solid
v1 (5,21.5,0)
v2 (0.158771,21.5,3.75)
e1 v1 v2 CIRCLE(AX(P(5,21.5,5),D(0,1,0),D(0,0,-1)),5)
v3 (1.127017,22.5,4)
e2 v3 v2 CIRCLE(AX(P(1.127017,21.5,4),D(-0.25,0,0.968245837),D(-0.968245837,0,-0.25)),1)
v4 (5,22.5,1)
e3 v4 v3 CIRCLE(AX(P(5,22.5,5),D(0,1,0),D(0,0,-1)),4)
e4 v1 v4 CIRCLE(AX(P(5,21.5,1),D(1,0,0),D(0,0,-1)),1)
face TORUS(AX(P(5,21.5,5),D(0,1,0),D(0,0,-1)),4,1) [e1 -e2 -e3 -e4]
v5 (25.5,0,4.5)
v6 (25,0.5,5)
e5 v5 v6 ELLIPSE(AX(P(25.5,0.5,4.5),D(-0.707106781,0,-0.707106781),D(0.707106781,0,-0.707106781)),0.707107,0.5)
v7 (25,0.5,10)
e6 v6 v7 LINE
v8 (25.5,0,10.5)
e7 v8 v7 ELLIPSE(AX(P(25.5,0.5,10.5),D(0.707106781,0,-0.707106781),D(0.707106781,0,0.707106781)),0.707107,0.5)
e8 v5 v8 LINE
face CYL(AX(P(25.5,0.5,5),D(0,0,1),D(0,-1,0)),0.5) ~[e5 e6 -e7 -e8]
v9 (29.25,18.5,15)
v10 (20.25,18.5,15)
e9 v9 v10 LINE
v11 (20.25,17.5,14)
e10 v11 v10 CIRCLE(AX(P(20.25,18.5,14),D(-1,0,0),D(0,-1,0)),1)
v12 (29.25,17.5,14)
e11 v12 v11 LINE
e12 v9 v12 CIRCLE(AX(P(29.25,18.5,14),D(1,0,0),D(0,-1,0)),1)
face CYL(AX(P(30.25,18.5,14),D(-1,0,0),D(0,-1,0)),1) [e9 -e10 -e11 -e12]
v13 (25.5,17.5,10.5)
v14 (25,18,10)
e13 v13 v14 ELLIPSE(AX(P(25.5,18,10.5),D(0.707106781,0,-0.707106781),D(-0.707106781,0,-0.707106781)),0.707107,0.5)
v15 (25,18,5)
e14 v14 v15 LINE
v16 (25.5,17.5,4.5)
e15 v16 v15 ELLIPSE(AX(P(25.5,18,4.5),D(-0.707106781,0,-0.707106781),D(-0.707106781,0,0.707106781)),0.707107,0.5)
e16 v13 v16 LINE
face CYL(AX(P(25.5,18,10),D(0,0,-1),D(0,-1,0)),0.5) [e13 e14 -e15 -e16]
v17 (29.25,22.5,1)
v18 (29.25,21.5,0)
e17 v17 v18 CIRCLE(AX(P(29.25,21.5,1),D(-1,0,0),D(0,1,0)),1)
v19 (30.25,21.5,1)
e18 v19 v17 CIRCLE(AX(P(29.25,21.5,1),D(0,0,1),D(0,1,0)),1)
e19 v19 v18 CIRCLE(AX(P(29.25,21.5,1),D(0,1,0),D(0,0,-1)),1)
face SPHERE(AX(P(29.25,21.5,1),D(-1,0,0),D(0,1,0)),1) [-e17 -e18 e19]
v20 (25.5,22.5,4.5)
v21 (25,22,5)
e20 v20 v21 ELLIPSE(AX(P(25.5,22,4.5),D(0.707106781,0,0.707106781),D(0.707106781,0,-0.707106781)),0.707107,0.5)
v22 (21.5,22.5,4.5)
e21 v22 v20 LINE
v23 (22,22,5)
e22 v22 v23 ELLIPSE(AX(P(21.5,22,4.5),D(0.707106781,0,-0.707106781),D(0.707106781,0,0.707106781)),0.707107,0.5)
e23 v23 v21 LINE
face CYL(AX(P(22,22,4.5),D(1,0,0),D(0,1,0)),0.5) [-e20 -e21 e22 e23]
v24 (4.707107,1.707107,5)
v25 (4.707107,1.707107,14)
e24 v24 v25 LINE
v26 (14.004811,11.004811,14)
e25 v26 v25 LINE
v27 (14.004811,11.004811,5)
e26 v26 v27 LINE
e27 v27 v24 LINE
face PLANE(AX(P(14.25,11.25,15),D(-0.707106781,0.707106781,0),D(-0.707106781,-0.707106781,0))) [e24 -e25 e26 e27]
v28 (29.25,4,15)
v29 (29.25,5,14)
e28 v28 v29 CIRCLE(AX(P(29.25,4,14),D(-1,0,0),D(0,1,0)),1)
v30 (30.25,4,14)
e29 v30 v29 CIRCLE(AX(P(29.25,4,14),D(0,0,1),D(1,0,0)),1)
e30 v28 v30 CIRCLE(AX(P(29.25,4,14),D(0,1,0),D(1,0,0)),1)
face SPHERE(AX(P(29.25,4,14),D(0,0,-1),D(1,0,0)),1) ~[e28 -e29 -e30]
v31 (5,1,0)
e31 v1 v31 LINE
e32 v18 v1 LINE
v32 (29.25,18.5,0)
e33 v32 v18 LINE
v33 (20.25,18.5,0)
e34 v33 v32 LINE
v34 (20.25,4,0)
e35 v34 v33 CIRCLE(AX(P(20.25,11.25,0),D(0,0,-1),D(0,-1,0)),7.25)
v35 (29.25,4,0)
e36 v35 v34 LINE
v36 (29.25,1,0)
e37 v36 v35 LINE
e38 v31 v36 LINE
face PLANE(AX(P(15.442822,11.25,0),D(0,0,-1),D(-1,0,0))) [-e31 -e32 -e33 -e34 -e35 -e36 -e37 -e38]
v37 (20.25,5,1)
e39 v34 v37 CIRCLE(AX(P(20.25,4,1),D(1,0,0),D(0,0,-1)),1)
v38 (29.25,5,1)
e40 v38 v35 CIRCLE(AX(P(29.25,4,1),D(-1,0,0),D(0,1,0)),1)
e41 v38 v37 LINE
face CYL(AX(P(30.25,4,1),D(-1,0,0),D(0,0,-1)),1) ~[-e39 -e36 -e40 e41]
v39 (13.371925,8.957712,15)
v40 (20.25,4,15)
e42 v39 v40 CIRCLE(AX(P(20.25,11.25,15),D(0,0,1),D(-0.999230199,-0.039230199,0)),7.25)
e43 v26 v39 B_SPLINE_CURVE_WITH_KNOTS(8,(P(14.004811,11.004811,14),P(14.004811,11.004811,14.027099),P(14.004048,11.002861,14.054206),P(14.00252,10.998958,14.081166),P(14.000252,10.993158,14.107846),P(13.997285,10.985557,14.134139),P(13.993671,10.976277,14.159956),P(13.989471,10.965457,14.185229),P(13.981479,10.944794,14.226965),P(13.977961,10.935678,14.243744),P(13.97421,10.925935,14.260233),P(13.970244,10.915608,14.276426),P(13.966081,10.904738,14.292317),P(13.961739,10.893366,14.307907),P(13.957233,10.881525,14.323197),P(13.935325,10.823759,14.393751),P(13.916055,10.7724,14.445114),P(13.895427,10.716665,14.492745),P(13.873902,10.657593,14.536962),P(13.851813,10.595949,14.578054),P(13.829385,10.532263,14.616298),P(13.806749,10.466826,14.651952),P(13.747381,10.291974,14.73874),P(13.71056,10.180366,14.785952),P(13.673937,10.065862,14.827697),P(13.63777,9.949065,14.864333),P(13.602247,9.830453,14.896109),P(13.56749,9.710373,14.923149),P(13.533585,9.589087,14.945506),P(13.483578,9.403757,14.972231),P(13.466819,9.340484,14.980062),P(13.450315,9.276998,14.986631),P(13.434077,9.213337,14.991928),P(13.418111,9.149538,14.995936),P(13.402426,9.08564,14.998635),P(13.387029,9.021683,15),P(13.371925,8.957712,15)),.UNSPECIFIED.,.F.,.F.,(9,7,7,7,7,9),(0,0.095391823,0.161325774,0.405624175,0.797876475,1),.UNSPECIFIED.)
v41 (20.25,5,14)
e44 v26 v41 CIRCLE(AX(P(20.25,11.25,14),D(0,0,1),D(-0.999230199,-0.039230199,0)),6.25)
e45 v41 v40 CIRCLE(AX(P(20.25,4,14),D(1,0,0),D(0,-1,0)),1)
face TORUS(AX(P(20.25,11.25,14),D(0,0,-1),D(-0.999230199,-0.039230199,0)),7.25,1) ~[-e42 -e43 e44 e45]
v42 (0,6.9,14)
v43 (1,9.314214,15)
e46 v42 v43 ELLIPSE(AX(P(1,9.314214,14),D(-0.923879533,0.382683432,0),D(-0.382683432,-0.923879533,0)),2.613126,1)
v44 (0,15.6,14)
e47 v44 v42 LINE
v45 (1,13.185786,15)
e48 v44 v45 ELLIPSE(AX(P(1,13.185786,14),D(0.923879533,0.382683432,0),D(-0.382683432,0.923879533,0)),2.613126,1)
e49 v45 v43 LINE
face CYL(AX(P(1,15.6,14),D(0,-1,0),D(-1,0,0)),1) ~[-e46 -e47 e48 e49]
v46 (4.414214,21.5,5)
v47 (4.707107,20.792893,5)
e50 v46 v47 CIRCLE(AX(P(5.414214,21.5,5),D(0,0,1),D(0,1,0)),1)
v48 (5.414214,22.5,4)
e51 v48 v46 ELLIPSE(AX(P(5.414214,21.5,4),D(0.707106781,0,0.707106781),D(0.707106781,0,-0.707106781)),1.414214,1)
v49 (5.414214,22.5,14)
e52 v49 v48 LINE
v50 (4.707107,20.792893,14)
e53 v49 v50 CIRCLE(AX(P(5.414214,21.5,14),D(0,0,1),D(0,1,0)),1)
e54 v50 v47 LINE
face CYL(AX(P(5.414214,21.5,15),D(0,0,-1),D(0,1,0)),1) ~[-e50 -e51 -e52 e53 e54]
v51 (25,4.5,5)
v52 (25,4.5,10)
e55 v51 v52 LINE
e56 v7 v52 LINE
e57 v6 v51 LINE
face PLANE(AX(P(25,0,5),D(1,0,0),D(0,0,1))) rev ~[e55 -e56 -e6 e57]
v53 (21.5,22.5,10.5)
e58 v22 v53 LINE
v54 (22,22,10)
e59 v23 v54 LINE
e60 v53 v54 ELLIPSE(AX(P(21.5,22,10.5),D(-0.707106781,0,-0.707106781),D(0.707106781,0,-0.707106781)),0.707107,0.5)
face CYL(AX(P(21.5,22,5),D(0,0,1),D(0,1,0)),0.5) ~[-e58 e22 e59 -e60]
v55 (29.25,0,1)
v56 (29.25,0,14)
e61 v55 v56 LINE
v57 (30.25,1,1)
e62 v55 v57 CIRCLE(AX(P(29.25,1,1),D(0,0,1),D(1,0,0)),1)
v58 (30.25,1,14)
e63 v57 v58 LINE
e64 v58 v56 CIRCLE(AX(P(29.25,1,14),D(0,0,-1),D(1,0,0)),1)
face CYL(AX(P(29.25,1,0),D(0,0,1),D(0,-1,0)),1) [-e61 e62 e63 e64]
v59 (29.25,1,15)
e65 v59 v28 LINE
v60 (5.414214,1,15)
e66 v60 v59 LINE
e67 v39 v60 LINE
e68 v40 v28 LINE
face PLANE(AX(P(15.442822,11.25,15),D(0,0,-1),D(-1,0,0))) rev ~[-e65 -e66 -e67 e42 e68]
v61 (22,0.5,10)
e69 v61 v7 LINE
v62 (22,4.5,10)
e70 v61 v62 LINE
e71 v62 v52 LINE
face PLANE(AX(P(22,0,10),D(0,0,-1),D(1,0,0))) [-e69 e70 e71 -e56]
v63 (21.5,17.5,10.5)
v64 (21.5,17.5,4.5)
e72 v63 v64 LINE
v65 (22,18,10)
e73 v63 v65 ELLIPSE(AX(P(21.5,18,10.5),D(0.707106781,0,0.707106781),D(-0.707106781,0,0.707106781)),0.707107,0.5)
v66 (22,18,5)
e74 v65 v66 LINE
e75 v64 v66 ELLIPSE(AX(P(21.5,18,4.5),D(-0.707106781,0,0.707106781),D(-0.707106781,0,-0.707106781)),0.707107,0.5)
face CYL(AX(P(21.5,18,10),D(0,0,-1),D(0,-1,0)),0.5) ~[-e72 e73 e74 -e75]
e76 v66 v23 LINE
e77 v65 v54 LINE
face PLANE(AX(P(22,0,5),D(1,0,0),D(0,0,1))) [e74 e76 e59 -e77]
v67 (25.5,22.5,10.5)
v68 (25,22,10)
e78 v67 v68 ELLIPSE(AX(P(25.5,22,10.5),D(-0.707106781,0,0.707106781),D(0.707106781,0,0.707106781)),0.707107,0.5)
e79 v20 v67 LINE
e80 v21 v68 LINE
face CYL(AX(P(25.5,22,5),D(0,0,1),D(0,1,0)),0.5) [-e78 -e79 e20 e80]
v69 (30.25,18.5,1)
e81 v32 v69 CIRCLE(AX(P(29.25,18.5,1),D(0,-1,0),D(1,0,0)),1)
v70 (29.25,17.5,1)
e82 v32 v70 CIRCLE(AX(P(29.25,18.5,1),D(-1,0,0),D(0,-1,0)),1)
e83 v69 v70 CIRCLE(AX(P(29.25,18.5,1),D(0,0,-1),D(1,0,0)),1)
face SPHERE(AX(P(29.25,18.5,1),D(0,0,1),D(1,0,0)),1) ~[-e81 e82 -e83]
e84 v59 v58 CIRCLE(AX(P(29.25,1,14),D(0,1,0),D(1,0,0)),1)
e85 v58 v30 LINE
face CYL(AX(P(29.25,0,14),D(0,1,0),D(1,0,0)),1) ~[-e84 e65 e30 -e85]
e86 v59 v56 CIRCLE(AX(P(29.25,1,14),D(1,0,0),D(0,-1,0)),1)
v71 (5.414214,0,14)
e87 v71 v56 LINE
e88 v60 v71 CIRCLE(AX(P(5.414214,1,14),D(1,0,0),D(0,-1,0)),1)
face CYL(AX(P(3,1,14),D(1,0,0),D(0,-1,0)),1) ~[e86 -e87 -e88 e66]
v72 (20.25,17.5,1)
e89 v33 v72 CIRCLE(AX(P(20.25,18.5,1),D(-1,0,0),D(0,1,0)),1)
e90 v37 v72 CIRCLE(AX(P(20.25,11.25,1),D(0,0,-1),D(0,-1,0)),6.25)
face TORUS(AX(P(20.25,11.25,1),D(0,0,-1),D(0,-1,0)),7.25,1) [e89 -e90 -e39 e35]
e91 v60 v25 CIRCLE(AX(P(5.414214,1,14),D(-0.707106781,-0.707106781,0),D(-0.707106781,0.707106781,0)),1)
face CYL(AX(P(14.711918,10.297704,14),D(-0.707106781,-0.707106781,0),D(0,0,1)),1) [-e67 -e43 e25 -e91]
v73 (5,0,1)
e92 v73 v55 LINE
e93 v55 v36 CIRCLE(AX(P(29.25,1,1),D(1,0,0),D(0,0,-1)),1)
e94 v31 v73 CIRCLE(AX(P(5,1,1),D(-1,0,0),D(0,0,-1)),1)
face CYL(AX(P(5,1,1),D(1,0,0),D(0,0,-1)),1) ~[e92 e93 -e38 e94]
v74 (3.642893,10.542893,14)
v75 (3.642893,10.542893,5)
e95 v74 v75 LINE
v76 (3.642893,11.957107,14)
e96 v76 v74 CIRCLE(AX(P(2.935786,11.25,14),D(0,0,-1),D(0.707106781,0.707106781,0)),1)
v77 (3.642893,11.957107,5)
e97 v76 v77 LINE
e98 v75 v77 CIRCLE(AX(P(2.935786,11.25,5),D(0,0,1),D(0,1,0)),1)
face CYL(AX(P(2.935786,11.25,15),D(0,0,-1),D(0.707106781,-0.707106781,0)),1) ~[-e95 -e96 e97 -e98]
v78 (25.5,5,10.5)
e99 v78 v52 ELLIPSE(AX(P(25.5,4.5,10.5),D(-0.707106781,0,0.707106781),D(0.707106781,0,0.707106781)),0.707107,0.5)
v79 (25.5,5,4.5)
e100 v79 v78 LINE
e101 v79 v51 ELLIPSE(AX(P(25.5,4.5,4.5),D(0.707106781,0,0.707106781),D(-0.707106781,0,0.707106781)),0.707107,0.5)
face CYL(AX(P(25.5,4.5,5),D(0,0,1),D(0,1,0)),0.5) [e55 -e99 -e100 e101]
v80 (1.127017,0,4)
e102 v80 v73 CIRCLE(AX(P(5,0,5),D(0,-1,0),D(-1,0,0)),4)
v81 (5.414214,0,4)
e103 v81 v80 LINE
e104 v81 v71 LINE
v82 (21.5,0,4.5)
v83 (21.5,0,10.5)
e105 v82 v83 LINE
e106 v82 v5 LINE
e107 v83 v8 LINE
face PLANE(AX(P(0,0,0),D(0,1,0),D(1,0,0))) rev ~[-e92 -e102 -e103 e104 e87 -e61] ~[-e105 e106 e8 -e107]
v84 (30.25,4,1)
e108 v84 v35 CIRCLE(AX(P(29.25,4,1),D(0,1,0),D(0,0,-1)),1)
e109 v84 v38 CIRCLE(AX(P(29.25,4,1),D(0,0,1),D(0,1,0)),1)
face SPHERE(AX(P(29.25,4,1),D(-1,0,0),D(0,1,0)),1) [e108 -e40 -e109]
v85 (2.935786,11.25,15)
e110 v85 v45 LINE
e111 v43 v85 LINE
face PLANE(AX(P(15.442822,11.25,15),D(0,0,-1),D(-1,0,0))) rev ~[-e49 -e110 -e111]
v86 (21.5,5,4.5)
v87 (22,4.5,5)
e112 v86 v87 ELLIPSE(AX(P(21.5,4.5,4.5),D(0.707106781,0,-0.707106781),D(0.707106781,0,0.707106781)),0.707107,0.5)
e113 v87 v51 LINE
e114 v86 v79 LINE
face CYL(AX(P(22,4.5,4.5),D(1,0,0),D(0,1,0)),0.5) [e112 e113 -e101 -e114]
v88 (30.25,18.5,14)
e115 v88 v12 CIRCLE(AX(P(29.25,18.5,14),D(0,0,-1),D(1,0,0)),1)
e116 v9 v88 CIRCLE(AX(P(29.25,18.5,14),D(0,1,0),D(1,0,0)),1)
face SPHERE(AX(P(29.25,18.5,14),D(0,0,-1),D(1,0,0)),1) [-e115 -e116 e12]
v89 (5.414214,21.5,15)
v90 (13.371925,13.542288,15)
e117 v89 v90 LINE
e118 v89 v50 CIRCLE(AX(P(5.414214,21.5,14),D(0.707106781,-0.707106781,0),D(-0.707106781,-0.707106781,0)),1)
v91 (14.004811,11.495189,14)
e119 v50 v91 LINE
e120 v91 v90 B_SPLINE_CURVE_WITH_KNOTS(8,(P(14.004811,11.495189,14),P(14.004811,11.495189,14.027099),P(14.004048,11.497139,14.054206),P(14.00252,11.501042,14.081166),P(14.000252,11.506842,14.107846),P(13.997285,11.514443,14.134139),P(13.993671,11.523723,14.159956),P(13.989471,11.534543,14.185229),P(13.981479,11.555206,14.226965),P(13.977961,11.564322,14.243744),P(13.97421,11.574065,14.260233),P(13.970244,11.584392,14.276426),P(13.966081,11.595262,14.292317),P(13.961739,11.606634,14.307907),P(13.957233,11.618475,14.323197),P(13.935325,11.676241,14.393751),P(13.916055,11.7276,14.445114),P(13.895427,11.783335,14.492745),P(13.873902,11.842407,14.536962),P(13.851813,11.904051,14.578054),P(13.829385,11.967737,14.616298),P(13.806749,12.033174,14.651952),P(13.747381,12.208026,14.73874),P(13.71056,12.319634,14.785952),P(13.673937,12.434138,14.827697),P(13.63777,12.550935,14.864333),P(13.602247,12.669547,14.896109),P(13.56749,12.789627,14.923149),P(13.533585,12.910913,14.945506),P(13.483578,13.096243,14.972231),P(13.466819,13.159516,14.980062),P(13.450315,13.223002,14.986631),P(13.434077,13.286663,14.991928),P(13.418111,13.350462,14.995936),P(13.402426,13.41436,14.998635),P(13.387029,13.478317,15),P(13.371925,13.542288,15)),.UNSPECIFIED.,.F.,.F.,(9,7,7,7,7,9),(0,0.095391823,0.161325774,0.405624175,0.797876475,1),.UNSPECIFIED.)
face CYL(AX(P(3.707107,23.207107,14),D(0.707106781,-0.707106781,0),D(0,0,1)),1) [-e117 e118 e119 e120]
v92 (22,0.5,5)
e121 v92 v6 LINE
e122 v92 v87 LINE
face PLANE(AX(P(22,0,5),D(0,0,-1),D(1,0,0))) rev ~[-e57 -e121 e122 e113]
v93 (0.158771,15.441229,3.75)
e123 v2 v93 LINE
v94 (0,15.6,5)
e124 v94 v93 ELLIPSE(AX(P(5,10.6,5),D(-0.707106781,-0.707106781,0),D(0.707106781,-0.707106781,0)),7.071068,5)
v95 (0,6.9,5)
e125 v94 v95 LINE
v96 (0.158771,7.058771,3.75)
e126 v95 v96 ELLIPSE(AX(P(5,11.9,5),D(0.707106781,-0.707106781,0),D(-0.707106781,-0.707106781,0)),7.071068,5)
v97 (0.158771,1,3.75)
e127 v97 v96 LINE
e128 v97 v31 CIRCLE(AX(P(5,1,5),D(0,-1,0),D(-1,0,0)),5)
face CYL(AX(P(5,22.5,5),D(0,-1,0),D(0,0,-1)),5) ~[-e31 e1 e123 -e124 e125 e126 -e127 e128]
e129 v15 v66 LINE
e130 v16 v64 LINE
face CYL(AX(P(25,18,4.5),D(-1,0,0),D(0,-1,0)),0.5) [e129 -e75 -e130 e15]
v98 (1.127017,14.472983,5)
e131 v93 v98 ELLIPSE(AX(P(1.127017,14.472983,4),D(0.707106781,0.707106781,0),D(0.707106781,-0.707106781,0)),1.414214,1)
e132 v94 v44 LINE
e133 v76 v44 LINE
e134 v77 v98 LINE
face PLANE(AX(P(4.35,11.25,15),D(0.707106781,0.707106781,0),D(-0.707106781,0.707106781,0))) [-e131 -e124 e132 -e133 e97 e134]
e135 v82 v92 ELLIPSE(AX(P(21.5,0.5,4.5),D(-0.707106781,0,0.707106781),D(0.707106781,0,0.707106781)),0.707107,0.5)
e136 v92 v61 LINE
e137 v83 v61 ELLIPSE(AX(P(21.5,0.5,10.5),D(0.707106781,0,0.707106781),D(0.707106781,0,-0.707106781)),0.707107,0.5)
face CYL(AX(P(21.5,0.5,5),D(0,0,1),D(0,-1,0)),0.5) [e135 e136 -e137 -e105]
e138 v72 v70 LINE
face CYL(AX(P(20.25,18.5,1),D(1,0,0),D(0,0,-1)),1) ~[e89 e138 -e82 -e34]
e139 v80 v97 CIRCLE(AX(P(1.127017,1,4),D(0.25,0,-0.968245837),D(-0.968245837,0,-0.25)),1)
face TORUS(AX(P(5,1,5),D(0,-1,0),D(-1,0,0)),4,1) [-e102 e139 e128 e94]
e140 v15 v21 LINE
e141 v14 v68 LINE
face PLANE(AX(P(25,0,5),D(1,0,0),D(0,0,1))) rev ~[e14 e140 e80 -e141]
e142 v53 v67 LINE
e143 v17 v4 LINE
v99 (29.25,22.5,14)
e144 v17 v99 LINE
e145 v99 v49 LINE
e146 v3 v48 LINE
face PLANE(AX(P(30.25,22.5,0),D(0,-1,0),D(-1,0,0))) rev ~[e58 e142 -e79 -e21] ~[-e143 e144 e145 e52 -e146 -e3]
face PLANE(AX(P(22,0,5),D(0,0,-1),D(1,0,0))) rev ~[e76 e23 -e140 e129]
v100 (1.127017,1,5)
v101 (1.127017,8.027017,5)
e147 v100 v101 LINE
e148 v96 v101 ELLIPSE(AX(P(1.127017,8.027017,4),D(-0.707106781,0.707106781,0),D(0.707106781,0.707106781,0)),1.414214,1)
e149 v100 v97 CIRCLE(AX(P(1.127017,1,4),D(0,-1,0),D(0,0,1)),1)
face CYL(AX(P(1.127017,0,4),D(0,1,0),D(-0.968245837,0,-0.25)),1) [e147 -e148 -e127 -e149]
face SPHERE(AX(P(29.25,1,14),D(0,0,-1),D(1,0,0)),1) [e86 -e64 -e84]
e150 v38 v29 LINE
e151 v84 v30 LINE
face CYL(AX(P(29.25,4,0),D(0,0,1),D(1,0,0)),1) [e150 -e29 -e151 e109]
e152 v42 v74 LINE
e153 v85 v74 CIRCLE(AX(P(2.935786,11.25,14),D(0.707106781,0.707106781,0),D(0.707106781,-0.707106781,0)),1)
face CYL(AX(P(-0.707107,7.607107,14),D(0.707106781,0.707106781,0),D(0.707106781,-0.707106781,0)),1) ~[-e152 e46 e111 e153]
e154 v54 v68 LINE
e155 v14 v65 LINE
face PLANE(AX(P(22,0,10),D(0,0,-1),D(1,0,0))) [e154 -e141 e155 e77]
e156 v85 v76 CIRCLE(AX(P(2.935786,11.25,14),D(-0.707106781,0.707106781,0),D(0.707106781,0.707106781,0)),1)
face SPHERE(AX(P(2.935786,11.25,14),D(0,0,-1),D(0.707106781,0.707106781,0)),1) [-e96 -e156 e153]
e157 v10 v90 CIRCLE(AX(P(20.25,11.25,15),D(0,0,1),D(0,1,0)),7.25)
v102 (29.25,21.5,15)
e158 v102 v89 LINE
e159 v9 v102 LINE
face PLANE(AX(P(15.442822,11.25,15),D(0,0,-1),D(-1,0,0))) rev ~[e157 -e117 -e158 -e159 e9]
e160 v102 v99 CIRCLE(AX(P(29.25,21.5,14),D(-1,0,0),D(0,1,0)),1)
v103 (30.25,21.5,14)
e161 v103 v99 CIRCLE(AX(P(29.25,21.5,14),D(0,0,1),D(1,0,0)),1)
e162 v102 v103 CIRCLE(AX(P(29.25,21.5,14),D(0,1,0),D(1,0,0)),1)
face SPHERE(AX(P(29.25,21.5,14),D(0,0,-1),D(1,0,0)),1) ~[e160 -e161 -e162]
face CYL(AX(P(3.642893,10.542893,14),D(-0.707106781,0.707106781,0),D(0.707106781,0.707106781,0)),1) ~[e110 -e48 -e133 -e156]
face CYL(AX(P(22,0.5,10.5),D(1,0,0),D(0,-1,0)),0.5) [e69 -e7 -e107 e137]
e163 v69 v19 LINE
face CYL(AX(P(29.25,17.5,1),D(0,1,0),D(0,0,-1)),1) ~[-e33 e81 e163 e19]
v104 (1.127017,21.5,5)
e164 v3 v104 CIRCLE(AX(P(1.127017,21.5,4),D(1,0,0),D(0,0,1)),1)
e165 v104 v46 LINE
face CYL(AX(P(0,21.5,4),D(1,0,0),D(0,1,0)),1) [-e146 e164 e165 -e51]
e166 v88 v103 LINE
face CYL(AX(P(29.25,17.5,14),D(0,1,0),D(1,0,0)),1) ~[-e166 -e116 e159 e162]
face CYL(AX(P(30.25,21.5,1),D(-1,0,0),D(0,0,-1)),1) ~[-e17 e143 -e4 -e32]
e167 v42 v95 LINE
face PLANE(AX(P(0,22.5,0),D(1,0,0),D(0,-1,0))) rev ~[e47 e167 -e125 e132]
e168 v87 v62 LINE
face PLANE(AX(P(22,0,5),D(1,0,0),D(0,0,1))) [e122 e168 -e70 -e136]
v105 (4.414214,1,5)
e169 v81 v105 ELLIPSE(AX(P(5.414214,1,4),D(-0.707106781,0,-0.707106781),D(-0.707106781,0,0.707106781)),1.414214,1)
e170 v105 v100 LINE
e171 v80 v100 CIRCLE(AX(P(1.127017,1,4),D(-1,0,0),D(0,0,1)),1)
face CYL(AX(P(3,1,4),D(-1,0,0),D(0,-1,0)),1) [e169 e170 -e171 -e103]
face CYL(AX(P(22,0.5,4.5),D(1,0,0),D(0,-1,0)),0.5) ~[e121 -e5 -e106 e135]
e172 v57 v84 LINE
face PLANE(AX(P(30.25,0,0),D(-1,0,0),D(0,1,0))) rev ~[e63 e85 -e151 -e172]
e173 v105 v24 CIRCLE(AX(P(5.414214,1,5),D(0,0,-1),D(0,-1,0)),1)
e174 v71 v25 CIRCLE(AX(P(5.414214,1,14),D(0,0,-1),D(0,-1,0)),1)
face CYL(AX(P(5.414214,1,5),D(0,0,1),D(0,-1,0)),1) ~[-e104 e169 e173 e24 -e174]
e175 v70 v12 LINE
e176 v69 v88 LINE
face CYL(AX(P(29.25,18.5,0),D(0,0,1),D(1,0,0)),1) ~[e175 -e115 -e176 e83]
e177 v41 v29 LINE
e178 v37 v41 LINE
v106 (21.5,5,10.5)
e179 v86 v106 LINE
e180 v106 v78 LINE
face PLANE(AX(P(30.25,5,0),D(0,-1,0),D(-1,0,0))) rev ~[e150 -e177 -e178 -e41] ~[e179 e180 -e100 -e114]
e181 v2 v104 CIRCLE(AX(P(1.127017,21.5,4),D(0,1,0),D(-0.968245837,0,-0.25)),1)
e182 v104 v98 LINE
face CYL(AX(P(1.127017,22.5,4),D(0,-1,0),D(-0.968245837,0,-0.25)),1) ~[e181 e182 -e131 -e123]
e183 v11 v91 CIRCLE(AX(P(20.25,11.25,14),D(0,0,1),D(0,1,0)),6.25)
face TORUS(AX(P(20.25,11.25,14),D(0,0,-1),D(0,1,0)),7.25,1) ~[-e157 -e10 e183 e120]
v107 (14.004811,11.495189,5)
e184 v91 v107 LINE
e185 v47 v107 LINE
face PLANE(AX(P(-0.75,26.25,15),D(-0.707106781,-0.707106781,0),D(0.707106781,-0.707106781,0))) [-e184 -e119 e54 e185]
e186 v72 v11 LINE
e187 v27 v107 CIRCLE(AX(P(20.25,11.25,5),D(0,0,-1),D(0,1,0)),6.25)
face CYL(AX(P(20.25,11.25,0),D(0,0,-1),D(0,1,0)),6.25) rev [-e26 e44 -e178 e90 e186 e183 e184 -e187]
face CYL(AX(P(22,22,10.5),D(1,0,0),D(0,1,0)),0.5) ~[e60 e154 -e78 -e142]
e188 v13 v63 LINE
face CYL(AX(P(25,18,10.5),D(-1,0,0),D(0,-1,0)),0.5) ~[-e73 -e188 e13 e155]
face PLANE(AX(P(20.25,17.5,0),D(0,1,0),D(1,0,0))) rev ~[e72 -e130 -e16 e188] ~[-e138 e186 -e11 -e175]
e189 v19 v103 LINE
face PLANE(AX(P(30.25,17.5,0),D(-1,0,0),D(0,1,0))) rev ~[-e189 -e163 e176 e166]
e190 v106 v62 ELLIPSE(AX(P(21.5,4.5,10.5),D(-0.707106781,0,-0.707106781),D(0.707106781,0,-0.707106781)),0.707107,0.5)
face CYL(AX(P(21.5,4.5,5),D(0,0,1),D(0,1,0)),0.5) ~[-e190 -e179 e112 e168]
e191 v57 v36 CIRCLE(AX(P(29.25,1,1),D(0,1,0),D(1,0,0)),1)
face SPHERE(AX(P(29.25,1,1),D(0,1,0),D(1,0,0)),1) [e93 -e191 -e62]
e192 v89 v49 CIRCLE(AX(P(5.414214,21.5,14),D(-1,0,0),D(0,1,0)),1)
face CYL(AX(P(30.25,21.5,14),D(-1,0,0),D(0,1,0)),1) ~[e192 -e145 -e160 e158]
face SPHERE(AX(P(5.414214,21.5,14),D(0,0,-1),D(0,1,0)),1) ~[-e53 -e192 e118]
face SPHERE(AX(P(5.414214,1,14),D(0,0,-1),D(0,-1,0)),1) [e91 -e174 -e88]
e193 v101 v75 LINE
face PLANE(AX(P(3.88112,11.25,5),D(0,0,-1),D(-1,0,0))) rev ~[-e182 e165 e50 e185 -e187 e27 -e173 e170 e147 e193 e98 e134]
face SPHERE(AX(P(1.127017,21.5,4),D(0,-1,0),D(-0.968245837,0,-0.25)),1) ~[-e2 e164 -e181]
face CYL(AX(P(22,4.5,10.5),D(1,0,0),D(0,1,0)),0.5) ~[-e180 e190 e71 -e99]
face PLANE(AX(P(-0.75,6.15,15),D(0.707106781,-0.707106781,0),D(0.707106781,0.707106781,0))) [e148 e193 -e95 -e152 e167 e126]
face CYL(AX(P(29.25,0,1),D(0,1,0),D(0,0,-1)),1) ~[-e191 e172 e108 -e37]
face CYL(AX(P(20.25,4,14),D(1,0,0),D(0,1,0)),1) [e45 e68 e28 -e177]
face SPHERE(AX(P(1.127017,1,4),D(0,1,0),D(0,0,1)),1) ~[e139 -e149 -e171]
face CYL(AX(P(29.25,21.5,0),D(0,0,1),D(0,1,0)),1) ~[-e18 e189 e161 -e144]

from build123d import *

# Parameters (mm, degrees)
PAD_DEPTH       = 15
POCKET_DEPTH    = 10
FILLET_R        = 5
SKETCH002_W     = 3
SKETCH002_H     = 5
POCKET001_DEPTH = 22.501
FILLET001_R     = 1
FILLET002_R     = 0.5


with BuildPart() as part:
    # Sketch → Pad (new body)
    with BuildSketch(Plane.XY):
        with BuildLine():
            ThreePointArc((20.25, 17.5), (14, 11.25), (20.25, 5))
            Line((30.25, 5), (20.25, 5))
            Line((30.25, 0), (30.25, 5))
            Line((0, 0), (30.25, 0))
            Line((0, 22.5), (0, 0))
            Line((30.25, 22.5), (0, 22.5))
            Line((30.25, 17.5), (30.25, 22.5))
            Line((20.25, 17.5), (30.25, 17.5))
        make_face()
    extrude(amount=PAD_DEPTH)

    # Sketch001 (on Face10 of Pad) → Pocket (cut)
    with BuildSketch(Plane.XY.offset(15)):
        Polygon((-0.75, 16.35), (-0.75, 26.25), (14.25, 11.25), (-0.75, -3.75), (-0.75, 6.15), (4.35, 11.25), align=None)
    extrude(amount=-POCKET_DEPTH, mode=Mode.SUBTRACT)

    # Fillet
    fillet_edges = [part.edges().sort_by_distance(p)[0] for p in [
        (0, 11.25, 0),
    ]]
    fillet(fillet_edges, radius=FILLET_R)

    # Sketch002 (on Face2 of Fillet) → Pocket001 (cut, through all)
    with BuildSketch(Plane.XZ):
        with Locations((23.5, 7.5)):
            Rectangle(SKETCH002_W, SKETCH002_H)
    extrude(amount=-POCKET001_DEPTH, mode=Mode.SUBTRACT)

    # Fillet001
    fillet001_edges = [part.edges().sort_by_distance(p)[0] for p in [
        (17.625, 22.5, 0),
        (30.25, 22.5, 7.5),
        (30.25, 17.5, 7.5),
        (30.25, 20, 0),
        (30.25, 20, 15),
        (25.25, 17.5, 0),
        (14, 11.25, 0),
        (25.25, 5, 0),
        (30.25, 5, 7.5),
        (30.25, 2.5, 0),
        (30.25, 0, 7.5),
        (30.25, 2.5, 15),
        (17.625, 0, 0),
        (16.625, 0, 15),
        (16.625, 22.5, 15),
        (15.918137, 6.744729, 15),
        (15.918137, 15.755271, 15),
        (25.25, 17.5, 15),
        (25.25, 5, 15),
        (8.502406, 16.997594, 15),
        (8.502406, 5.502406, 15),
        (4.35, 11.25, 10),
        (2.175, 13.425, 15),
        (0, 11.25, 15),
        (3, 22.5, 10),
        (3, 0, 10),
        (0, 3.45, 5),
        (1.5, 0, 5),
        (2.175, 9.075, 15),
        (1.5, 22.5, 5),
        (0, 19.05, 5),
    ]]
    fillet(fillet001_edges, radius=FILLET001_R)

    # Fillet002
    fillet002_edges = [part.edges().sort_by_distance(p)[0] for p in [
        (23.5, 22.5, 10),
        (22, 22.5, 7.5),
        (23.5, 22.5, 5),
        (25, 22.5, 7.5),
        (25, 5, 7.5),
        (23.5, 5, 10),
        (22, 5, 7.5),
        (23.5, 5, 5),
        (23.5, 17.5, 10),
        (22, 17.5, 7.5),
        (23.5, 17.5, 5),
        (25, 17.5, 7.5),
        (23.5, 0, 10),
        (22, 0, 7.5),
        (23.5, 0, 5),
        (25, 0, 7.5),
    ]]
    fillet(fillet002_edges, radius=FILLET002_R)


solid = part.part
